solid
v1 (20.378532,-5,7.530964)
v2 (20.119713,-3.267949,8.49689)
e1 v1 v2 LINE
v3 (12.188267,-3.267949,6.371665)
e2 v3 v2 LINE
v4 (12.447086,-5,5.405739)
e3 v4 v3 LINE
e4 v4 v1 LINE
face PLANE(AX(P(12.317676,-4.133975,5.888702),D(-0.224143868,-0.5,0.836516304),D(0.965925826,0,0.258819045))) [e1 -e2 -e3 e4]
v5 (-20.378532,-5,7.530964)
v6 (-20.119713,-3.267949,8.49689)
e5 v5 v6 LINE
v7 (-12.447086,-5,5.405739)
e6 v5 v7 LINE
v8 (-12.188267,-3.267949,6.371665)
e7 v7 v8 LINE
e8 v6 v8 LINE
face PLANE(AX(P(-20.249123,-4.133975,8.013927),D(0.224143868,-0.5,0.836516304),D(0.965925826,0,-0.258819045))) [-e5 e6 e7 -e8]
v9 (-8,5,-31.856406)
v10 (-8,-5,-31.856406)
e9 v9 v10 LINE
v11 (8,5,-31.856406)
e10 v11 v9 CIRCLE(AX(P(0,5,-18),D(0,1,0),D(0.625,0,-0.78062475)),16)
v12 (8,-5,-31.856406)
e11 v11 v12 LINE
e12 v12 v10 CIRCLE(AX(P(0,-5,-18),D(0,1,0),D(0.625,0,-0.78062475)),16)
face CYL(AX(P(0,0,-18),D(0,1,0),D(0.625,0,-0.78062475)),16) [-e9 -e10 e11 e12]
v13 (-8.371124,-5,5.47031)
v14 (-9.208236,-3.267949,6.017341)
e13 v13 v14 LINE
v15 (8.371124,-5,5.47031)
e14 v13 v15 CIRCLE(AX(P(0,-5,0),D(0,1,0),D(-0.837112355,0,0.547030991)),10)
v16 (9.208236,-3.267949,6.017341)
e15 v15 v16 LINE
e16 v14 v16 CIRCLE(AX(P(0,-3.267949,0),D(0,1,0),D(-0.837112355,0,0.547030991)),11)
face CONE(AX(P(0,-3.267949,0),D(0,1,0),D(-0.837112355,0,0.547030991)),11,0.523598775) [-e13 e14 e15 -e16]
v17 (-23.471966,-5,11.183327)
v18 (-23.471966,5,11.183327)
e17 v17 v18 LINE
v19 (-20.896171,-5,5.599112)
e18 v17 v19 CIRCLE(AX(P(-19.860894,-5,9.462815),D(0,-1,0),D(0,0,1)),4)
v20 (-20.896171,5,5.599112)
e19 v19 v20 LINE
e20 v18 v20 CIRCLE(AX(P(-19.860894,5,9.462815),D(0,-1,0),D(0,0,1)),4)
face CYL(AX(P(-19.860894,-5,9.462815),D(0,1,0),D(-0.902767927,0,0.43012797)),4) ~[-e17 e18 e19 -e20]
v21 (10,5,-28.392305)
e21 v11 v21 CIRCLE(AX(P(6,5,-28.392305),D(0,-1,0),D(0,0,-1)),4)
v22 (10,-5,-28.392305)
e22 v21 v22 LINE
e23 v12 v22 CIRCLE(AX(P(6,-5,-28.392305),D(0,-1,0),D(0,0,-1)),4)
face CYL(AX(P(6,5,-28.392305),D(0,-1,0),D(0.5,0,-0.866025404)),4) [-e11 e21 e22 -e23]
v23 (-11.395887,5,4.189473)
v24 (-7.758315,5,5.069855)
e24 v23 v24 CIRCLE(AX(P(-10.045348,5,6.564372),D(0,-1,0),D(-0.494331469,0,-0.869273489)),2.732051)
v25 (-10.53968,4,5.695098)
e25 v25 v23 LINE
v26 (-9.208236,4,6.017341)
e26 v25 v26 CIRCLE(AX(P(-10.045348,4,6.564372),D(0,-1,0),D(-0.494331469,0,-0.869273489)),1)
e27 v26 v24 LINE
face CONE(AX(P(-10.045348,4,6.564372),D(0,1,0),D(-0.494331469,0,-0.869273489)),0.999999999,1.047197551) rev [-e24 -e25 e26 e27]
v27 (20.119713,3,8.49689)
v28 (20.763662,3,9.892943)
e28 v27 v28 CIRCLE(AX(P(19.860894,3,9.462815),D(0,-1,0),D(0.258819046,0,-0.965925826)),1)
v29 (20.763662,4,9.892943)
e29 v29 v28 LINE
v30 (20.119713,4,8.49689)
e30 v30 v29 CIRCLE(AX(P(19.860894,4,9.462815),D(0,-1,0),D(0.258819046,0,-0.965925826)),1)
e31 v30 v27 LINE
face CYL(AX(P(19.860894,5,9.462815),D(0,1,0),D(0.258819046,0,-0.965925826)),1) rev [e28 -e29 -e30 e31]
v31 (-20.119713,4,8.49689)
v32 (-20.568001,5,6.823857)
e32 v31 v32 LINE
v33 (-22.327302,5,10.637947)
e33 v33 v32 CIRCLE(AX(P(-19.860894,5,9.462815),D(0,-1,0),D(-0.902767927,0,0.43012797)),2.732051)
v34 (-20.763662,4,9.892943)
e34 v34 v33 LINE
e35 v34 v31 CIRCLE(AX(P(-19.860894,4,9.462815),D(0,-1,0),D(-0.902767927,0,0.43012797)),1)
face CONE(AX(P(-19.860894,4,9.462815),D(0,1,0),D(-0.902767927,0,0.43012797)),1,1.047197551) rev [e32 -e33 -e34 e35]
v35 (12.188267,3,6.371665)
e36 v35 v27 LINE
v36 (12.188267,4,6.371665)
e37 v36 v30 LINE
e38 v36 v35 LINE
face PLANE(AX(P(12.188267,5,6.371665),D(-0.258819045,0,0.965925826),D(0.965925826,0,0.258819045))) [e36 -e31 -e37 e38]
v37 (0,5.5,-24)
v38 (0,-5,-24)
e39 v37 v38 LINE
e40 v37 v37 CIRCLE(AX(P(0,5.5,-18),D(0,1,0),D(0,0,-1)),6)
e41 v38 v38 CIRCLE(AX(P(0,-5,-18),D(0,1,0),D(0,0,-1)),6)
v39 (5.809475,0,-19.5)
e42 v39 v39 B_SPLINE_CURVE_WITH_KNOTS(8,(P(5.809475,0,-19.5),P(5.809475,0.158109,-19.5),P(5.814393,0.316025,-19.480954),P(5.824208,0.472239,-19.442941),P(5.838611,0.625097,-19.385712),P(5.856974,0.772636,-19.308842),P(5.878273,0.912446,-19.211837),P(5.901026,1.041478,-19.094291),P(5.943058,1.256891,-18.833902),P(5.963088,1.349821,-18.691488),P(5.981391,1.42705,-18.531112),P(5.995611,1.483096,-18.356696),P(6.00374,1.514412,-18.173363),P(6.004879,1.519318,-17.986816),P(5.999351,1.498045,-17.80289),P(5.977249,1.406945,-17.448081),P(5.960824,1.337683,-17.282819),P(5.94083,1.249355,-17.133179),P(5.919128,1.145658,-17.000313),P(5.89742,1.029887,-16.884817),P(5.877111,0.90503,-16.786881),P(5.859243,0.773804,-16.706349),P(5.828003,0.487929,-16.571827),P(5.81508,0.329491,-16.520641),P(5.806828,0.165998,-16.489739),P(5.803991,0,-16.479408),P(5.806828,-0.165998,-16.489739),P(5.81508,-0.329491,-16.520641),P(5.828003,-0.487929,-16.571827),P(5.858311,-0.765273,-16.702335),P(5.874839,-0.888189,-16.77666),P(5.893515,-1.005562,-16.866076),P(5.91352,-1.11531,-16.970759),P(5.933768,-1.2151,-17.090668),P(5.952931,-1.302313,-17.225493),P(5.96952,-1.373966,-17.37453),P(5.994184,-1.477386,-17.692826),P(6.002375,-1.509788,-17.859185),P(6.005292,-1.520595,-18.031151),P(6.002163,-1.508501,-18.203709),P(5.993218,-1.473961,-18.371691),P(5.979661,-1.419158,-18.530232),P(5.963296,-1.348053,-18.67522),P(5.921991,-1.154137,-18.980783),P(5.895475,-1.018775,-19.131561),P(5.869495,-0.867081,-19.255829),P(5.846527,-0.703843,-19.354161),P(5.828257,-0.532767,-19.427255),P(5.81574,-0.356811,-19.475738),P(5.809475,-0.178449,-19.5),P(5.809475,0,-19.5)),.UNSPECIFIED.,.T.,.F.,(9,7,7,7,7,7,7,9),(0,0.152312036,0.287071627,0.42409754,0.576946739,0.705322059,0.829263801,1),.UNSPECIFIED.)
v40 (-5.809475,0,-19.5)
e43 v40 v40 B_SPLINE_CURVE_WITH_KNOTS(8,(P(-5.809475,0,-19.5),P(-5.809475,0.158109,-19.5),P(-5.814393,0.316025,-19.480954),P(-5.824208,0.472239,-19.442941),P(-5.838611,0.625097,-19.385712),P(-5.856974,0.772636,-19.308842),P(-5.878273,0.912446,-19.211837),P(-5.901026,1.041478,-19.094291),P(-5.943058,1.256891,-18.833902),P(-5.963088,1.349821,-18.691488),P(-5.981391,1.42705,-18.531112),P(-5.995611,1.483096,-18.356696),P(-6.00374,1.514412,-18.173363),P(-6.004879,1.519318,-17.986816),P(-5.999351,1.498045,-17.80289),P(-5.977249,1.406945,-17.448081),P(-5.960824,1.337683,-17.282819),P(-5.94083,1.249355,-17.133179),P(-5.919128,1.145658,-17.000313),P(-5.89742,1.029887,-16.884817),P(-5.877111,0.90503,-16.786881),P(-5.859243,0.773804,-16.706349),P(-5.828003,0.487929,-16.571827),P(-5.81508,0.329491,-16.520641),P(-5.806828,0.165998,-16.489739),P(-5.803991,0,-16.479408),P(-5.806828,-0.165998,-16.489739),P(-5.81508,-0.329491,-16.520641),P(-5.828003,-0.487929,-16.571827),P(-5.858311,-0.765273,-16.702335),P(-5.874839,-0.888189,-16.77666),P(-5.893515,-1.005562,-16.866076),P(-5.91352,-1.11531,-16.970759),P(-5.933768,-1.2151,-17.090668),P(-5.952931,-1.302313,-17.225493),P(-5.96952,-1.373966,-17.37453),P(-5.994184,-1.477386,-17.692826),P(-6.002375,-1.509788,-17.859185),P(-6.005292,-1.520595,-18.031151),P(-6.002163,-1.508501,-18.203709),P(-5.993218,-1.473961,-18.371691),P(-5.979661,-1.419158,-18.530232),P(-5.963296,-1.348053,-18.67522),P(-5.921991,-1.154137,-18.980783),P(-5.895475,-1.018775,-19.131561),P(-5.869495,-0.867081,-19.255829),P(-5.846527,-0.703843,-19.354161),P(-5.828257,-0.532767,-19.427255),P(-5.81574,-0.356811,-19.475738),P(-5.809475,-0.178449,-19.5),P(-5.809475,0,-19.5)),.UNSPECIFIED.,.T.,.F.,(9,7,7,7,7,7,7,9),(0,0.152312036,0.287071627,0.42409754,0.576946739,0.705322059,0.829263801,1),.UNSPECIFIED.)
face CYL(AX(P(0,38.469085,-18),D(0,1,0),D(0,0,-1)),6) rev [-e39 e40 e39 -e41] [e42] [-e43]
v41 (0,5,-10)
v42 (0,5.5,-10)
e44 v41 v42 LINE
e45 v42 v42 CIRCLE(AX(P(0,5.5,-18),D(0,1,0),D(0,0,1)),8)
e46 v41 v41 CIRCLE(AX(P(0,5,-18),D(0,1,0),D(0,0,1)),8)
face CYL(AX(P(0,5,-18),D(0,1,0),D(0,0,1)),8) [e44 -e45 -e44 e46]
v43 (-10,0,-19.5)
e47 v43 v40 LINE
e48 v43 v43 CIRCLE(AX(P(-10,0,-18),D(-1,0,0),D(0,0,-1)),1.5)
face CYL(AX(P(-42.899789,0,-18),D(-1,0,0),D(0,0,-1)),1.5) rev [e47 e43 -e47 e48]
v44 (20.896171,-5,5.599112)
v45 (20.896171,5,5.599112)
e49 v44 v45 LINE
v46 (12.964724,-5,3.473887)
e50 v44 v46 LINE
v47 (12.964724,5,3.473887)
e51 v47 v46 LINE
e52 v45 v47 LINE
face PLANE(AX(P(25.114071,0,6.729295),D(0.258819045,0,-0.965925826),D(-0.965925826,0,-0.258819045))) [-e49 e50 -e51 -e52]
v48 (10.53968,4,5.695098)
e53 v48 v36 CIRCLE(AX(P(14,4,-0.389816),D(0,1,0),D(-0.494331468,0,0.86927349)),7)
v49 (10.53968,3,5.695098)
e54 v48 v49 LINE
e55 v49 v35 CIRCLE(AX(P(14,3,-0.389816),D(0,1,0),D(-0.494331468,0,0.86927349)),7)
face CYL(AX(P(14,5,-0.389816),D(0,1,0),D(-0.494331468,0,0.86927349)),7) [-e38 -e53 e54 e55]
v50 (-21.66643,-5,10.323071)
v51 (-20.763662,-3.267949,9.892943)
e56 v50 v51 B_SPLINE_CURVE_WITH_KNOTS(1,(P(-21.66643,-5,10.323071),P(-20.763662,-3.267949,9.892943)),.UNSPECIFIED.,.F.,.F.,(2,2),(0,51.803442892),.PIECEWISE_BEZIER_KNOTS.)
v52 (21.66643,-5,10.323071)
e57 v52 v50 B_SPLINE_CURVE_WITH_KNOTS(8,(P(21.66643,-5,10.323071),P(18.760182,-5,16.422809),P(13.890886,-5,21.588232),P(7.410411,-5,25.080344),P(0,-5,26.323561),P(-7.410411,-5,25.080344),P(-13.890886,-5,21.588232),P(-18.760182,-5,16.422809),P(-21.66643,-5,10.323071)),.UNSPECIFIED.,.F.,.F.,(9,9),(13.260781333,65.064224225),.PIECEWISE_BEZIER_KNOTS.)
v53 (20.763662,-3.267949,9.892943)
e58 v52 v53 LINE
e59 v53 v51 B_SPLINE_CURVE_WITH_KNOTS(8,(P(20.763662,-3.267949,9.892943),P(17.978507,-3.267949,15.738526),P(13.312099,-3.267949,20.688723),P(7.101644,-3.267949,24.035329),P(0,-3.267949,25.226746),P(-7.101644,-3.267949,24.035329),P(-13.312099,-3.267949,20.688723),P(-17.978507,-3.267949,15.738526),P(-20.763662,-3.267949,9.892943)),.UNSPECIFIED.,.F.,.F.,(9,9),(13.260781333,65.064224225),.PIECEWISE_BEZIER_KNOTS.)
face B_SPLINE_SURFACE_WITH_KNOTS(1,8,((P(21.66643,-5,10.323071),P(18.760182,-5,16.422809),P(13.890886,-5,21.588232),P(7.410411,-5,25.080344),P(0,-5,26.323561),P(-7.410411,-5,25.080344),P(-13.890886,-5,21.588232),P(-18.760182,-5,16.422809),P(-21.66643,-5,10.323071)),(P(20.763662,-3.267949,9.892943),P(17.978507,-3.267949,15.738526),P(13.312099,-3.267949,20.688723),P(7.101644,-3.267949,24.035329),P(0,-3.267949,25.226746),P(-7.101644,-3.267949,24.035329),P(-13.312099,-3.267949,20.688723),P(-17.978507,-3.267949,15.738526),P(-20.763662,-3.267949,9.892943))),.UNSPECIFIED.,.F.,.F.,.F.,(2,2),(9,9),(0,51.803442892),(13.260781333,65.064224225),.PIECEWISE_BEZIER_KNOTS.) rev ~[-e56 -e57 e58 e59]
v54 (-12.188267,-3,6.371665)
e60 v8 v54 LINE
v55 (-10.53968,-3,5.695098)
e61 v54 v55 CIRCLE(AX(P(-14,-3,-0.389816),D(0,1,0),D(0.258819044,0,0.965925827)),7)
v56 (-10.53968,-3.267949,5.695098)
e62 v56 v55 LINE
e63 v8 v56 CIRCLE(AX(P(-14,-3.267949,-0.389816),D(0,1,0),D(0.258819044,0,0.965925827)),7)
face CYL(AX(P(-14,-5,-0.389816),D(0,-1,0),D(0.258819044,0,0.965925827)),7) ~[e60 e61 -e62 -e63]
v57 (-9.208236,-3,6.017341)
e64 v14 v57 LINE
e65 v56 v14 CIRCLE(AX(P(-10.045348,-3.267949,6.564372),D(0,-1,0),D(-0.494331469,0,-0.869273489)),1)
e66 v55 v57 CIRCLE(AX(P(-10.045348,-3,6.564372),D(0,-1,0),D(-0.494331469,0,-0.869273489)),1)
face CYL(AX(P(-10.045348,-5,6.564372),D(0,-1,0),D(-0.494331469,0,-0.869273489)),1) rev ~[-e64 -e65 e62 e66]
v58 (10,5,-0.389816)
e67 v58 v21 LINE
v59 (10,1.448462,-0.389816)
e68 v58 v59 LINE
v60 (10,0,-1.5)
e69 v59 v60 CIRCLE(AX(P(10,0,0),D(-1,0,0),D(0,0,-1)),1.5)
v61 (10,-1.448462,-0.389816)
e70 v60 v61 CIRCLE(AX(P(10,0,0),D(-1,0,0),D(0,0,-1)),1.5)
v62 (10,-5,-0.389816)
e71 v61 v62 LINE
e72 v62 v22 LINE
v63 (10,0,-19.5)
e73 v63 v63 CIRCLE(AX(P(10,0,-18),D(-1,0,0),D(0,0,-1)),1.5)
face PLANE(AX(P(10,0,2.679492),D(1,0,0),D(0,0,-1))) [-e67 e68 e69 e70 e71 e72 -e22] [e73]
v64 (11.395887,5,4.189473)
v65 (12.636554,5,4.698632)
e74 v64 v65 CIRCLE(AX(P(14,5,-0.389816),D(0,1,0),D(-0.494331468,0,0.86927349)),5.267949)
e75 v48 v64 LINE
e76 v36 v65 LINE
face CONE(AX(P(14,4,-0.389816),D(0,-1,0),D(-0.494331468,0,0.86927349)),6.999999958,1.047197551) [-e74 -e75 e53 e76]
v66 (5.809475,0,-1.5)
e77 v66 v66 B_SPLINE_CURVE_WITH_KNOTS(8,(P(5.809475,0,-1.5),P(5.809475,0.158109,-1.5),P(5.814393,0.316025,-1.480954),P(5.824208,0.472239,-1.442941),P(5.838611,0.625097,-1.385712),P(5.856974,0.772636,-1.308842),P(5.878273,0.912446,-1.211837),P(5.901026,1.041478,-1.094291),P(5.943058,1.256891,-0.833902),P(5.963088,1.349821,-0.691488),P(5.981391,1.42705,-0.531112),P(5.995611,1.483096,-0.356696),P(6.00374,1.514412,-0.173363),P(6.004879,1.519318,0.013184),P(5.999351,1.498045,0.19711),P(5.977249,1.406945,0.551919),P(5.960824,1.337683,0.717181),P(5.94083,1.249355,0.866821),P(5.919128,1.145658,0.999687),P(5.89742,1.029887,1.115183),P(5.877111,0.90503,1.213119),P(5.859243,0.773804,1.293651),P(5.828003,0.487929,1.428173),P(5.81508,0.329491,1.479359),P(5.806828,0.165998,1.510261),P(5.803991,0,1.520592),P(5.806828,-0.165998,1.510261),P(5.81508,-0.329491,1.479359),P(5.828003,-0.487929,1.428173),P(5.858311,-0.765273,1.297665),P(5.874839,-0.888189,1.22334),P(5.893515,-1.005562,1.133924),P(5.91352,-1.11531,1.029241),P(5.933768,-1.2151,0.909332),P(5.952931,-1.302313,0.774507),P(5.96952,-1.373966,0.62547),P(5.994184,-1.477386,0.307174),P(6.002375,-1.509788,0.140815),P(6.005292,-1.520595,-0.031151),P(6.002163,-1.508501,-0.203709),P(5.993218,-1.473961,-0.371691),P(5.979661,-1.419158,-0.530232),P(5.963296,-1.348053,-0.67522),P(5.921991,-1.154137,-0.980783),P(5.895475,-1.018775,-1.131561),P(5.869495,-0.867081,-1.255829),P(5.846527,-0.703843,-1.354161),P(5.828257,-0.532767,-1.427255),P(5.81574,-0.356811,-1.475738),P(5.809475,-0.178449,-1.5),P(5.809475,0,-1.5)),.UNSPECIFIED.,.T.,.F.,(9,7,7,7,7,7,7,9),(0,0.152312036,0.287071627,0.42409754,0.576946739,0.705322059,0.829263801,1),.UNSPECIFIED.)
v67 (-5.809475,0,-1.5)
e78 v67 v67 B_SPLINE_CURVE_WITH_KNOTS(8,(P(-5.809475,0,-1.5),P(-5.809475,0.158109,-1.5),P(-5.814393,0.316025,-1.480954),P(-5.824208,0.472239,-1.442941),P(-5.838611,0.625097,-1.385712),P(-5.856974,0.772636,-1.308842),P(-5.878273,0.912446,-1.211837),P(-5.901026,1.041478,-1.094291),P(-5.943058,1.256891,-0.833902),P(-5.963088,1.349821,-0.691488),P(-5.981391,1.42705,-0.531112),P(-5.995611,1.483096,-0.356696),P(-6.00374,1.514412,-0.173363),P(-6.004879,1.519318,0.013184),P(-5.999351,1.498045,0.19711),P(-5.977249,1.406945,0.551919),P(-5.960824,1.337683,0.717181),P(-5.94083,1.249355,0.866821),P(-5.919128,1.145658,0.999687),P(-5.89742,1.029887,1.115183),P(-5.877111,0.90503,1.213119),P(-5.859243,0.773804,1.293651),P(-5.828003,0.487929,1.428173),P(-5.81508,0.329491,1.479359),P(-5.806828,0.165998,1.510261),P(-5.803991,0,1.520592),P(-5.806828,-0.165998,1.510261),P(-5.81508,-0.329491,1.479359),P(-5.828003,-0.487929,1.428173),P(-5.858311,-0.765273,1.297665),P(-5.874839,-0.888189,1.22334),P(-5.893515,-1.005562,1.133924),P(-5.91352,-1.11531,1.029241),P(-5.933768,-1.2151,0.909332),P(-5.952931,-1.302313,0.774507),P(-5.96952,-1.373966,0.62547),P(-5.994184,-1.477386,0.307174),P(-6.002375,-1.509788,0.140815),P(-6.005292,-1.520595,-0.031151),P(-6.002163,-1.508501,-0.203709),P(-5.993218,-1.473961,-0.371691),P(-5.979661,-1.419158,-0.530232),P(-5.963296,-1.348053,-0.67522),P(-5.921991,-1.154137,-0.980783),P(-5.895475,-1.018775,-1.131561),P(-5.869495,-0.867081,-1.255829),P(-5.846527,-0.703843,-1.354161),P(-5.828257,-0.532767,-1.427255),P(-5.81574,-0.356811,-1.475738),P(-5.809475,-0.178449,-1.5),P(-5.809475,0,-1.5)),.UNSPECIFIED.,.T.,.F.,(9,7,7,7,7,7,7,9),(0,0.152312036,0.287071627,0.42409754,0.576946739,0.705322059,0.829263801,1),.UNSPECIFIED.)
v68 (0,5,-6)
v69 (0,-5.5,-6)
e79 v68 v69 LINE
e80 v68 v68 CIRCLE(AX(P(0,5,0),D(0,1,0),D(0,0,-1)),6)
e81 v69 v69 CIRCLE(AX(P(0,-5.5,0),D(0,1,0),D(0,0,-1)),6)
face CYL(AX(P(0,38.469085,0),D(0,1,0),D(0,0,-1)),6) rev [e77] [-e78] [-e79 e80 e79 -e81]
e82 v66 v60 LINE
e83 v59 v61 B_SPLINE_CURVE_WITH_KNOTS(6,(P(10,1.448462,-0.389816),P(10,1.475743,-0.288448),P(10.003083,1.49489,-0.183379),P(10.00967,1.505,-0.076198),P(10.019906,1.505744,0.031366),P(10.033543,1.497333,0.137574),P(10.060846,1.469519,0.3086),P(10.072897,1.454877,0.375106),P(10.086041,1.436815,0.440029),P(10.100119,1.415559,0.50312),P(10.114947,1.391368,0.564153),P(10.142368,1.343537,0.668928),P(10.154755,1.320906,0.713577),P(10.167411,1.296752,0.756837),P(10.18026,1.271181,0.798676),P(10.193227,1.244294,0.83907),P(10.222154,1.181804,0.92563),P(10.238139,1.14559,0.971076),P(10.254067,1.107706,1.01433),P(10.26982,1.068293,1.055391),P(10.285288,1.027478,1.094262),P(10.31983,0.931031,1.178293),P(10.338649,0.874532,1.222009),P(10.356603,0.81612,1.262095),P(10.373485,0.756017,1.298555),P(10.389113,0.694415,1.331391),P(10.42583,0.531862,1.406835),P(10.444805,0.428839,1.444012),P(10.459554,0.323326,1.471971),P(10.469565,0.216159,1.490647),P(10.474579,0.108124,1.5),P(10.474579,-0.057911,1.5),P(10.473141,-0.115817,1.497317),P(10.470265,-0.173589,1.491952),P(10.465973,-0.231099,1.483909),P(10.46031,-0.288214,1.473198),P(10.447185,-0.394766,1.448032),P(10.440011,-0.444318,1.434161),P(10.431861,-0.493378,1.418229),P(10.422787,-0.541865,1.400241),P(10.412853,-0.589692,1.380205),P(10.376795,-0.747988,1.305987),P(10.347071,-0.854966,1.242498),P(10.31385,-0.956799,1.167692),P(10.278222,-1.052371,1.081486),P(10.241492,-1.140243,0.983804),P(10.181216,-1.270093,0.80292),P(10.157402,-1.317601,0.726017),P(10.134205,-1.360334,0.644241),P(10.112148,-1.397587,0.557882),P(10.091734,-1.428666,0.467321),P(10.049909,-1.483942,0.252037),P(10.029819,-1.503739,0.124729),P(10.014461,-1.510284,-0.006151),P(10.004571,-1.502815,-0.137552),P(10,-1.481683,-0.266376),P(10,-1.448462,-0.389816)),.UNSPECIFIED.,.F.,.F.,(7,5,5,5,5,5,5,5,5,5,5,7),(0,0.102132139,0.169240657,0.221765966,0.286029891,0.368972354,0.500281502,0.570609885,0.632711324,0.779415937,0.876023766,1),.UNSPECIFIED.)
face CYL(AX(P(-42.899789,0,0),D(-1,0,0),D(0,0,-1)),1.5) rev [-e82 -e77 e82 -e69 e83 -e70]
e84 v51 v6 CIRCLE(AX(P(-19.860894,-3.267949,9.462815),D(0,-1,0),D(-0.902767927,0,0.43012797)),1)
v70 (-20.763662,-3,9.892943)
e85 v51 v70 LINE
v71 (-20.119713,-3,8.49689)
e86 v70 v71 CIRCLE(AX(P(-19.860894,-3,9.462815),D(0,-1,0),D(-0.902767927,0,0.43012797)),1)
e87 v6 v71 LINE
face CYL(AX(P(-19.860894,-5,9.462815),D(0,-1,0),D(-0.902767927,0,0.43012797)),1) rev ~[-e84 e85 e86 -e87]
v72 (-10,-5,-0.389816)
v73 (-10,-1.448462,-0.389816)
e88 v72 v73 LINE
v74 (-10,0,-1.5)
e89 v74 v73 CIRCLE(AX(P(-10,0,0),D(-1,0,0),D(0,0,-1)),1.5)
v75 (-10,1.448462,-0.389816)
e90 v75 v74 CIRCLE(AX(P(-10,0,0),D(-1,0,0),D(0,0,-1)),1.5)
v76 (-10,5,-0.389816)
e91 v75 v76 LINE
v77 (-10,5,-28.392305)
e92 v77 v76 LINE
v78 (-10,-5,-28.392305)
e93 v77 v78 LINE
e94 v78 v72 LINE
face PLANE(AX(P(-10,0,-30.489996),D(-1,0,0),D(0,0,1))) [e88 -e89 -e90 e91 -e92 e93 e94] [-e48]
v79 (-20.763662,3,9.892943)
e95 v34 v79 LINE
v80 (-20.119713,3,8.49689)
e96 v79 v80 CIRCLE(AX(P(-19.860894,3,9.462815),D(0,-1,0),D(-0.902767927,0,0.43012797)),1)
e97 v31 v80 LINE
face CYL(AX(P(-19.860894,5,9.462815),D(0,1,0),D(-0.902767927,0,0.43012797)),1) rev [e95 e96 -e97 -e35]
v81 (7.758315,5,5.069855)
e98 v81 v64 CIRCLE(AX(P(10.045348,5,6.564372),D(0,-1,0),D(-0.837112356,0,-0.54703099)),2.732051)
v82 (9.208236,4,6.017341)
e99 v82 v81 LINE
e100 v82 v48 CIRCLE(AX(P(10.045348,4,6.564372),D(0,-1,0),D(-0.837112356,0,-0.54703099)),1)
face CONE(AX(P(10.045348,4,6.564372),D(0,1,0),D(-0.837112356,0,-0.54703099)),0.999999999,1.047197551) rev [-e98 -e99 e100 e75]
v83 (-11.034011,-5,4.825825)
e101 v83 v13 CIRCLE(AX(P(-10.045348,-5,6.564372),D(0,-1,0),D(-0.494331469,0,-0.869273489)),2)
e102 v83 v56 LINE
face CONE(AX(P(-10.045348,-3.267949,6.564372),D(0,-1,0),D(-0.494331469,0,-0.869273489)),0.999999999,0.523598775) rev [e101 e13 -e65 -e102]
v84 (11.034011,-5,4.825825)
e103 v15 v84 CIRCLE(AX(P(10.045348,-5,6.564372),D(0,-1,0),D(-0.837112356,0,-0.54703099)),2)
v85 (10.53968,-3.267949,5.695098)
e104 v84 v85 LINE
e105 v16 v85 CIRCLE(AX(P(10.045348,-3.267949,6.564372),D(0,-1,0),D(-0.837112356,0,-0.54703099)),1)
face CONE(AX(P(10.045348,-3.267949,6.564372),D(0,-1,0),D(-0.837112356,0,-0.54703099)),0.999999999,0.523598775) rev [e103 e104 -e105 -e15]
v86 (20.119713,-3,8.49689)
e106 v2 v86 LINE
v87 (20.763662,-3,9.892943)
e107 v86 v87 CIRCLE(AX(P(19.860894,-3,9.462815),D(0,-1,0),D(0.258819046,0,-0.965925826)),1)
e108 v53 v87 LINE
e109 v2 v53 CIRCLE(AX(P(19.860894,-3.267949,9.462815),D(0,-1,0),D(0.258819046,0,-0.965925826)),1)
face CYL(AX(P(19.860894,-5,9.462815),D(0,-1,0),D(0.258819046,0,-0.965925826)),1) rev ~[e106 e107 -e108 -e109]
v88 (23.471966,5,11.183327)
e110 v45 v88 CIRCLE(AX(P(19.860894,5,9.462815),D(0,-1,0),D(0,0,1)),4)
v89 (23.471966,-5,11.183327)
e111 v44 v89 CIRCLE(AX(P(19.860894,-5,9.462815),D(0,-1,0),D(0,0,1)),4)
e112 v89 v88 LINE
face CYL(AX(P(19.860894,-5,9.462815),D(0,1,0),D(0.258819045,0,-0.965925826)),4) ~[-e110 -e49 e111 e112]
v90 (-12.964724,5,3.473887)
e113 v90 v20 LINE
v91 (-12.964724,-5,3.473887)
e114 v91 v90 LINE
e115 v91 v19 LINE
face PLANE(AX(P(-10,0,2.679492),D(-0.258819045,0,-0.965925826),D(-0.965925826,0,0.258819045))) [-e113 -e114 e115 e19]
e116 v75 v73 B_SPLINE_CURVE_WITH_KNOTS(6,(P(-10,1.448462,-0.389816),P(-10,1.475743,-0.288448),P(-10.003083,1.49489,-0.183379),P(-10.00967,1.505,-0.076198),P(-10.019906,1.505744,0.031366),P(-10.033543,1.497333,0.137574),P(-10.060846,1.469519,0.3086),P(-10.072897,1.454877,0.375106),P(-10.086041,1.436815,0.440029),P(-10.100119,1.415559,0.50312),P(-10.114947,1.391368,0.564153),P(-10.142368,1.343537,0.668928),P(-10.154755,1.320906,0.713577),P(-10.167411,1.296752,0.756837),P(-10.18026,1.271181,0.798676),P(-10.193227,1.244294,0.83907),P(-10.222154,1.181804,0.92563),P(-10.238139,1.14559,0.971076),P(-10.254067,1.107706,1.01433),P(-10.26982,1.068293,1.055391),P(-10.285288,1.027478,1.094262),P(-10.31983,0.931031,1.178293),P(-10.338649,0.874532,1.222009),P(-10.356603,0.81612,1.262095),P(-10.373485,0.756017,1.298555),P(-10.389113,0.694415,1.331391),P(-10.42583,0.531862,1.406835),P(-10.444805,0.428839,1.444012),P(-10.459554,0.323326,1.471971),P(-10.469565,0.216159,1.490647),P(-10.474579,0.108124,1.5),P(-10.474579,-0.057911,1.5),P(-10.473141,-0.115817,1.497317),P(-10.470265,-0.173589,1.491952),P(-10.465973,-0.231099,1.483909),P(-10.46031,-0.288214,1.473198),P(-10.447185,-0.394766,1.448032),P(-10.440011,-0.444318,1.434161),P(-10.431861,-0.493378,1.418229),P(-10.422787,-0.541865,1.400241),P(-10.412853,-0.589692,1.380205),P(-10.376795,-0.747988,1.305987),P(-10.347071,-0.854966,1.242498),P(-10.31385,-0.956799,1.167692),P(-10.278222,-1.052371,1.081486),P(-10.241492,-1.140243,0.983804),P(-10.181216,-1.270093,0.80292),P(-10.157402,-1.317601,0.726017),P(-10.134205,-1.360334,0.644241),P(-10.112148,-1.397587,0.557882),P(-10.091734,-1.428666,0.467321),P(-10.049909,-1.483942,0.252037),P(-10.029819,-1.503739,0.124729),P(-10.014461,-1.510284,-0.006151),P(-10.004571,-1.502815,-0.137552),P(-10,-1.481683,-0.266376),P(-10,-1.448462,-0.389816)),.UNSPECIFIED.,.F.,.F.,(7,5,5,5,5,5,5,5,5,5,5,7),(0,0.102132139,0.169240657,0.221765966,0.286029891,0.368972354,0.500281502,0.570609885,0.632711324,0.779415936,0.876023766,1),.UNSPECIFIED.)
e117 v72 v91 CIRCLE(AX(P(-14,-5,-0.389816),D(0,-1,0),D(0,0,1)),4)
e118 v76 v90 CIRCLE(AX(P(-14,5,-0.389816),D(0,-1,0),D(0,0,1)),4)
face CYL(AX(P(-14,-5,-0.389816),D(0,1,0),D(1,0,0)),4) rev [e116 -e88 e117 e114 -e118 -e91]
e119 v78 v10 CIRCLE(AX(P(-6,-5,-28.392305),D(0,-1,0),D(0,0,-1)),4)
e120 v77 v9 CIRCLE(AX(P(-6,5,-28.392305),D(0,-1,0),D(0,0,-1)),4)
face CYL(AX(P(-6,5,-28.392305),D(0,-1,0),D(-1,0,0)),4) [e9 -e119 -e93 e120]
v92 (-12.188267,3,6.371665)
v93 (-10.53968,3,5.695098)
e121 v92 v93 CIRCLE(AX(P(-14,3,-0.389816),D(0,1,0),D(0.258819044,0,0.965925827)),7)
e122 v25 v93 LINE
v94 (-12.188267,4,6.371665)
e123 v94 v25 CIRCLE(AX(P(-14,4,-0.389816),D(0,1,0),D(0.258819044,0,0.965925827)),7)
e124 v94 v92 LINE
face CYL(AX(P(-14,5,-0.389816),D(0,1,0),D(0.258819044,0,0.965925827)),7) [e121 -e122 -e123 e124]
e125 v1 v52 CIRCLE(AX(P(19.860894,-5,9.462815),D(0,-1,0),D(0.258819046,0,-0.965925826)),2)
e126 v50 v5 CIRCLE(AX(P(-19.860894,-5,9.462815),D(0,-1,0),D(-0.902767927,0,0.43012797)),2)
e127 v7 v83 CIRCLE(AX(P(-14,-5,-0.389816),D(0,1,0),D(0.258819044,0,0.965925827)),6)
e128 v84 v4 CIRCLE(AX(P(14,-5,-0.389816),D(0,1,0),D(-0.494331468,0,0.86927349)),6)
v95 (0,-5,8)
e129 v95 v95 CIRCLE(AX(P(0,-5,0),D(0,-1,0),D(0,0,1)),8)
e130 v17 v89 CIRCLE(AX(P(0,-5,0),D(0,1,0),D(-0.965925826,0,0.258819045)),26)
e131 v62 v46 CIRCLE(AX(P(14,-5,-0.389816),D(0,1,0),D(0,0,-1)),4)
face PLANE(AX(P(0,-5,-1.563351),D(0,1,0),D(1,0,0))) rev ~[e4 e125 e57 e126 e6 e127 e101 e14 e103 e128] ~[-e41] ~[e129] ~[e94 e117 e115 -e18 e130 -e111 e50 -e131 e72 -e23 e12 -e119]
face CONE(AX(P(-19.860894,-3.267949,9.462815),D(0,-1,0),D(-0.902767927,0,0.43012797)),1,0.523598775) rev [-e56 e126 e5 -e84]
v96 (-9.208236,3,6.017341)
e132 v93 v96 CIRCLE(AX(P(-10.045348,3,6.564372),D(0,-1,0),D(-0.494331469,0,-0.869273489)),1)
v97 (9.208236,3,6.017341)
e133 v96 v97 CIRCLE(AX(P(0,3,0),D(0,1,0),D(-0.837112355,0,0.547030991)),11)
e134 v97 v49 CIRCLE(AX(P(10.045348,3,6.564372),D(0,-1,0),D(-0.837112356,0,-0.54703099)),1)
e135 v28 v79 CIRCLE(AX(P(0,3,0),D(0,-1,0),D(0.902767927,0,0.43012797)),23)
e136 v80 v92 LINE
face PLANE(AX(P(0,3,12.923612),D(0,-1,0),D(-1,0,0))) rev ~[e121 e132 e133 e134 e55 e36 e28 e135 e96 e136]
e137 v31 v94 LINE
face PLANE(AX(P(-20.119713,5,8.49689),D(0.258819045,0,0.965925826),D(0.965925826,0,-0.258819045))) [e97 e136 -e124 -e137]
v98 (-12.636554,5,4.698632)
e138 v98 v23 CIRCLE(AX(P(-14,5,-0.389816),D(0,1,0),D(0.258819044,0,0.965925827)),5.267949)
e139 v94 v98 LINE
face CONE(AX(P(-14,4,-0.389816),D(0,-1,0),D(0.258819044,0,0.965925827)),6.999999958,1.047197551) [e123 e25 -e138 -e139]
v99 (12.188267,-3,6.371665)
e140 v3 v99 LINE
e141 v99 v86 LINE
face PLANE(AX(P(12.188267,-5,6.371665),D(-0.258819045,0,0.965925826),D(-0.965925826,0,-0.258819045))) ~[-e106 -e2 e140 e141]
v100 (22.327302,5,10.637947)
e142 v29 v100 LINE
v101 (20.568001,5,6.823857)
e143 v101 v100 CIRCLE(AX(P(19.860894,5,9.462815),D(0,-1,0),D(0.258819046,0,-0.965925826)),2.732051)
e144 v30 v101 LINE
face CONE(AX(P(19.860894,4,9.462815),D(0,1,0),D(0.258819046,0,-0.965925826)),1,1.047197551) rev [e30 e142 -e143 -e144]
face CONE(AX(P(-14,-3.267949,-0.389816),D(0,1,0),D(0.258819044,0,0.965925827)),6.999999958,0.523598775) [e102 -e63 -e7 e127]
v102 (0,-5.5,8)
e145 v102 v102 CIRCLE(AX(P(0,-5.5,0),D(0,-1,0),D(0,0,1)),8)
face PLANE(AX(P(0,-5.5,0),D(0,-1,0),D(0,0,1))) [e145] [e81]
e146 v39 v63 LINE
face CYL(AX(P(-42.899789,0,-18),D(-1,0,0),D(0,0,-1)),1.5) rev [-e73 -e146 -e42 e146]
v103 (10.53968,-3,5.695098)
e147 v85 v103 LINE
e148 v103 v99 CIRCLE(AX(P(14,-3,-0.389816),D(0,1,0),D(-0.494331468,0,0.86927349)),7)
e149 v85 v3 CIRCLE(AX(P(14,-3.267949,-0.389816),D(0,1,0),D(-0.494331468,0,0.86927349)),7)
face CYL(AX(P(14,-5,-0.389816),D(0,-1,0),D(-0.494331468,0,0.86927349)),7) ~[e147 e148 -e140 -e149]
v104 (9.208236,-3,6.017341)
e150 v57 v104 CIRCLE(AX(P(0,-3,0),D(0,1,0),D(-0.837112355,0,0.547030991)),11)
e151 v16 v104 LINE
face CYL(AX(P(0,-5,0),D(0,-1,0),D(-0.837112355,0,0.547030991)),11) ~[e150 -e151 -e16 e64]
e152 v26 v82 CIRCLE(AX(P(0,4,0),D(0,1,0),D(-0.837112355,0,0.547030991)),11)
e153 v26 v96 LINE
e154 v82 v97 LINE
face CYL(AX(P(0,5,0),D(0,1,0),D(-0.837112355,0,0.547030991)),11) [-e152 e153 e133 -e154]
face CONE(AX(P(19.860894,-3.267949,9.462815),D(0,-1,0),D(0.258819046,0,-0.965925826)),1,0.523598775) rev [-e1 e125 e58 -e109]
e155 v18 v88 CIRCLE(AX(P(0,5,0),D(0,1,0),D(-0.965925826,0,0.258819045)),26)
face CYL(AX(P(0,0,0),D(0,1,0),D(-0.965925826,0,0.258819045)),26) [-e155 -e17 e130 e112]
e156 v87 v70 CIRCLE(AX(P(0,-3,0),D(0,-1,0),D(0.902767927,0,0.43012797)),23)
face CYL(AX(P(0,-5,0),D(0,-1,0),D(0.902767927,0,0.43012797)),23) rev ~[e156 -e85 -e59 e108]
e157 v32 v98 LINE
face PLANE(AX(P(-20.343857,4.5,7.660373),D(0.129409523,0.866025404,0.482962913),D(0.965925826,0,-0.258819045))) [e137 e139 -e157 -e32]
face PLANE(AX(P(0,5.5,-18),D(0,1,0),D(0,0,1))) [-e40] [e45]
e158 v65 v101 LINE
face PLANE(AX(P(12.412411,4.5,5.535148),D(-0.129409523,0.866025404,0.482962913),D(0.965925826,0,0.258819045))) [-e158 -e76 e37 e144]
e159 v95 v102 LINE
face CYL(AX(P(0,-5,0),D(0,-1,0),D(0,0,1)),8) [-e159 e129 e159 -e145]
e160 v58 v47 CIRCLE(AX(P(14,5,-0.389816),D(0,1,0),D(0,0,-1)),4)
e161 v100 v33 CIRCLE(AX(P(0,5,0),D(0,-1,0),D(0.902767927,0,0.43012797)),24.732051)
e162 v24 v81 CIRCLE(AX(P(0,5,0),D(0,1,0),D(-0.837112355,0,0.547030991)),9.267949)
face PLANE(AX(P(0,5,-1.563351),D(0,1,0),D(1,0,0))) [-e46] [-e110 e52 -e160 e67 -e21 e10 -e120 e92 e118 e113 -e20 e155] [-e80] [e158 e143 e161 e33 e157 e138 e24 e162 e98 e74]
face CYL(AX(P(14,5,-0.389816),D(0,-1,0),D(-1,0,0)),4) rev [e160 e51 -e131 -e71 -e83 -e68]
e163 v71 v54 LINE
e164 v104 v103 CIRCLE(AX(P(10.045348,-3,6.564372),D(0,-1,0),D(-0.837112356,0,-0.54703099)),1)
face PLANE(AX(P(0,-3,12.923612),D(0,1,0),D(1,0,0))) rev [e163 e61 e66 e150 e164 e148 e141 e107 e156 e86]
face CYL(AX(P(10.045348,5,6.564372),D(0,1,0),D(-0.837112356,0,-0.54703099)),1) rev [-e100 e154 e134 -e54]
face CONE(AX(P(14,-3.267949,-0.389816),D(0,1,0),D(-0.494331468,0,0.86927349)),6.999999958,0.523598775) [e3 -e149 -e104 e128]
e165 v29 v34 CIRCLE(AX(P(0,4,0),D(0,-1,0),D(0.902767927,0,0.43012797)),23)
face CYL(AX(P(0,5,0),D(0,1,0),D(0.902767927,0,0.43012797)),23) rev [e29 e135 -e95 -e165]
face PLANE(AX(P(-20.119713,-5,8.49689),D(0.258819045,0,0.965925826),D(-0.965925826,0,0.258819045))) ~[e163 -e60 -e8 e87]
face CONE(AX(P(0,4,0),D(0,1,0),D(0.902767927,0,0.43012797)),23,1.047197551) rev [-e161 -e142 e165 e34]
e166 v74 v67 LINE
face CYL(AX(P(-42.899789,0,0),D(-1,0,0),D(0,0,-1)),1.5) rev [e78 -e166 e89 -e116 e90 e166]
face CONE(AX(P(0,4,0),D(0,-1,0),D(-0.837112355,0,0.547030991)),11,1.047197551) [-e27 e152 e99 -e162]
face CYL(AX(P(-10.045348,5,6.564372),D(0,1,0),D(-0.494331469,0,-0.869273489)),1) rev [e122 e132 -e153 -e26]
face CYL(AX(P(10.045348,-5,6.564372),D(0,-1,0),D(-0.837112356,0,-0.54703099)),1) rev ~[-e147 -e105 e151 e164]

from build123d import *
from OCP.BRepFilletAPI import BRepFilletAPI_MakeChamfer

# Parameters (mm, degrees)
BOSS_EXTRUDE1_DEPTH     = 5
FILLET1_R               = 4
SKETCH2_R               = 8
BOSS_EXTRUDE2_DEPTH     = 0.5
SKETCH3_R               = 8
BOSS_EXTRUDE3_DEPTH     = 0.5
SKETCH4_R               = 8
BOSS_EXTRUDE4_DEPTH     = 0.5
CUT_EXTRUDE1_DEPTH      = 43.969085178
CUT_EXTRUDE1_DEPTH_BACK = 43.969085178
SKETCH5_R               = 6
CUT_EXTRUDE2_DEPTH      = 2
CHAMFER2_SIZE           = 1
CHAMFER2_SIZE2          = 1.732050808
CUT_EXTRUDE4_DEPTH      = 42.899788694
CUT_EXTRUDE4_DEPTH_BACK = 42.899788694
SKETCH9_R               = 1.5


with BuildPart() as part:
    # Sketch1 → Boss-Extrude1 (new, symmetric)
    with BuildSketch(Plane(origin=(0, 0, 0), x_dir=(1, 0, 0), z_dir=(0, 1, 0))):
        with BuildLine():
            Line((-10, 30.489995997), (-10, -2.679491924))
            Line((-10, -2.679491924), (-25.114071484, -6.729295173))
            ThreePointArc((-25.114071484, -6.729295173), (0, -26), (25.114071484, -6.729295173))
            Line((25.114071484, -6.729295173), (10, -2.679491924))
            Line((10, -2.679491924), (10, 30.489995997))
            ThreePointArc((10, 30.489995997), (0, 34), (-10, 30.489995997))
        make_face()
    extrude(amount=BOSS_EXTRUDE1_DEPTH, both=True)

    # Fillet1
    fillet1_edges = [part.edges().sort_by_distance(p)[0] for p in [
        (10, 0, -30.489995997),
        (10, 0, 2.679491924),
        (25.114071484, 0, 6.729295173),
        (-25.114071484, 0, 6.729295173),
        (-10, 0, 2.679491924),
        (-10, 0, -30.489995997),
    ]]
    fillet(fillet1_edges, radius=FILLET1_R)

    # Sketch2 → Boss-Extrude2 (add, symmetric)
    with BuildSketch(Plane(origin=(0, 0, 0), x_dir=(1, 0, 0), z_dir=(0, 1, 0))):
        with Locations((0, 18)):
            Circle(SKETCH2_R)
    extrude(amount=BOSS_EXTRUDE2_DEPTH, both=True)

    # Sketch3 → Boss-Extrude3 (add, symmetric)
    with BuildSketch(Plane(origin=(0, 5, 0), x_dir=(1, 0, 0), z_dir=(0, 1, 0))):
        with Locations(Location((0, 18, 0), (0, 0, 270))):
            Circle(SKETCH3_R)
    extrude(amount=BOSS_EXTRUDE3_DEPTH, both=True)

    # Sketch4 → Boss-Extrude4 (add, symmetric)
    with BuildSketch(Plane.XZ.offset(5)):
        with Locations(Location((0, 0, 0), (0, 0, 90))):
            Circle(SKETCH4_R)
    extrude(amount=BOSS_EXTRUDE4_DEPTH, both=True)

    # Sketch5 → Cut-Extrude1 (cut, two sides: drawn at the far end of the back side and taken through both)
    with BuildSketch(Plane(origin=(0, -5.5, 0), x_dir=(-1, 0, 0), z_dir=(0, -1, 0)).offset(-CUT_EXTRUDE1_DEPTH_BACK)):
        with Locations(Location((0, 0, 0), (0, 0, 90))):
            Circle(SKETCH5_R)
        with Locations(Location((0, 18, 0), (0, 0, 90))):
            Circle(SKETCH5_R)
    extrude(amount=CUT_EXTRUDE1_DEPTH + CUT_EXTRUDE1_DEPTH_BACK, mode=Mode.SUBTRACT)

    # Sketch6 → Cut-Extrude2 (cut)
    with BuildSketch(Plane(origin=(0, 5, 0), x_dir=(1, 0, 0), z_dir=(0, 1, 0))):
        with BuildLine():
            Line((12.188266684, -6.371664756), (20.119713435, -8.496889508))
            ThreePointArc((20.119713435, -8.496889508), (20.768948696, -9.043962883), (20.763662316, -9.892943304))
            ThreePointArc((20.763662316, -9.892943304), (0, -23), (-20.763662316, -9.892943304))
            ThreePointArc((-20.763662316, -9.892943304), (-20.768948696, -9.043962883), (-20.119713435, -8.496889508))
            Line((-20.119713435, -8.496889508), (-12.188266684, -6.371664756))
            ThreePointArc((-12.188266684, -6.371664756), (-11.342355786, -6.086056673), (-10.539679728, -5.695098402))
            ThreePointArc((-10.539679728, -5.695098402), (-9.810114884, -5.592432974), (-9.208235905, -6.017340901))
            ThreePointArc((-9.208235905, -6.017340901), (0, -11), (9.208235905, -6.017340901))
            ThreePointArc((9.208235905, -6.017340901), (9.810114884, -5.592432974), (10.539679728, -5.695098402))
            ThreePointArc((10.539679728, -5.695098402), (11.342355786, -6.086056673), (12.188266684, -6.371664756))
        make_face()
    cut_extrude2 = extrude(amount=-CUT_EXTRUDE2_DEPTH, mode=Mode.SUBTRACT)

    # Mirror7: Cut-Extrude2 across plane
    add(cut_extrude2.mirror(Plane.ZX), mode=Mode.SUBTRACT)

    # Chamfer2: one chamfer whose edges measure the first distance from different faces: ONE call of the kernel's chamfer builder (chamfer() names one face for all edges)
    chamfer2_edges_1 = [part.edges().sort_by_distance(p)[0] for p in [
        (9.810114884, -5, 5.592432974),
        (0, -5, 11),
        (-9.810114884, -5, 5.592432974),
        (-11.342355786, -5, 6.086056673),
        (-16.153990059, -5, 7.434277132),
        (-20.768948696, -5, 9.043962883),
        (0, -5, 23),
        (20.768948696, -5, 9.043962883),
        (16.153990059, -5, 7.434277132),
        (11.342355786, -5, 6.086056673),
    ]]
    chamfer2_side_1 = [part.faces().sort_by_distance(p)[0] for p in [
        (-9.233359985, -5, -14.391060437),
    ]]
    chamfer2_edges_2 = [part.edges().sort_by_distance(p)[0] for p in [
        (9.810114884, 5, 5.592432974),
    ]]
    chamfer2_side_2 = [part.faces().sort_by_distance(p)[0] for p in [
        (9.810114884, 4, 5.592432974),
    ]]
    chamfer2_edges_3 = [part.edges().sort_by_distance(p)[0] for p in [
        (0, 5, 11),
    ]]
    chamfer2_side_3 = [part.faces().sort_by_distance(p)[0] for p in [
        (0, 4, 11),
    ]]
    chamfer2_edges_4 = [part.edges().sort_by_distance(p)[0] for p in [
        (-9.810114884, 5, 5.592432974),
    ]]
    chamfer2_side_4 = [part.faces().sort_by_distance(p)[0] for p in [
        (-9.810114884, 4, 5.592432974),
    ]]
    chamfer2_edges_5 = [part.edges().sort_by_distance(p)[0] for p in [
        (-11.342355786, 5, 6.086056673),
    ]]
    chamfer2_side_5 = [part.faces().sort_by_distance(p)[0] for p in [
        (-11.342355786, 4, 6.086056673),
    ]]
    chamfer2_edges_6 = [part.edges().sort_by_distance(p)[0] for p in [
        (-16.153990059, 5, 7.434277132),
    ]]
    chamfer2_side_6 = [part.faces().sort_by_distance(p)[0] for p in [
        (-16.153990059, 4, 7.434277132),
    ]]
    chamfer2_edges_7 = [part.edges().sort_by_distance(p)[0] for p in [
        (-20.768948696, 5, 9.043962883),
    ]]
    chamfer2_side_7 = [part.faces().sort_by_distance(p)[0] for p in [
        (-20.768948696, 4, 9.043962883),
    ]]
    chamfer2_edges_8 = [part.edges().sort_by_distance(p)[0] for p in [
        (0, 5, 23),
    ]]
    chamfer2_side_8 = [part.faces().sort_by_distance(p)[0] for p in [
        (0, 4, 23),
    ]]
    chamfer2_edges_9 = [part.edges().sort_by_distance(p)[0] for p in [
        (20.768948696, 5, 9.043962883),
    ]]
    chamfer2_side_9 = [part.faces().sort_by_distance(p)[0] for p in [
        (20.768948696, 4, 9.043962883),
    ]]
    chamfer2_edges_10 = [part.edges().sort_by_distance(p)[0] for p in [
        (16.153990059, 5, 7.434277132),
    ]]
    chamfer2_side_10 = [part.faces().sort_by_distance(p)[0] for p in [
        (16.153990059, 4, 7.434277132),
    ]]
    chamfer2_edges_11 = [part.edges().sort_by_distance(p)[0] for p in [
        (11.342355786, 5, 6.086056673),
    ]]
    chamfer2_side_11 = [part.faces().sort_by_distance(p)[0] for p in [
        (11.342355786, 4, 6.086056673),
    ]]
    chamfer2 = BRepFilletAPI_MakeChamfer(part.part.solid().wrapped)
    for e in chamfer2_edges_1:
        chamfer2.Add(CHAMFER2_SIZE, CHAMFER2_SIZE2, e.wrapped, chamfer2_side_1[0].wrapped)  # the first distance lies on this face
    for e in chamfer2_edges_2:
        chamfer2.Add(CHAMFER2_SIZE, CHAMFER2_SIZE2, e.wrapped, chamfer2_side_2[0].wrapped)  # the first distance lies on this face
    for e in chamfer2_edges_3:
        chamfer2.Add(CHAMFER2_SIZE, CHAMFER2_SIZE2, e.wrapped, chamfer2_side_3[0].wrapped)  # the first distance lies on this face
    for e in chamfer2_edges_4:
        chamfer2.Add(CHAMFER2_SIZE, CHAMFER2_SIZE2, e.wrapped, chamfer2_side_4[0].wrapped)  # the first distance lies on this face
    for e in chamfer2_edges_5:
        chamfer2.Add(CHAMFER2_SIZE, CHAMFER2_SIZE2, e.wrapped, chamfer2_side_5[0].wrapped)  # the first distance lies on this face
    for e in chamfer2_edges_6:
        chamfer2.Add(CHAMFER2_SIZE, CHAMFER2_SIZE2, e.wrapped, chamfer2_side_6[0].wrapped)  # the first distance lies on this face
    for e in chamfer2_edges_7:
        chamfer2.Add(CHAMFER2_SIZE, CHAMFER2_SIZE2, e.wrapped, chamfer2_side_7[0].wrapped)  # the first distance lies on this face
    for e in chamfer2_edges_8:
        chamfer2.Add(CHAMFER2_SIZE, CHAMFER2_SIZE2, e.wrapped, chamfer2_side_8[0].wrapped)  # the first distance lies on this face
    for e in chamfer2_edges_9:
        chamfer2.Add(CHAMFER2_SIZE, CHAMFER2_SIZE2, e.wrapped, chamfer2_side_9[0].wrapped)  # the first distance lies on this face
    for e in chamfer2_edges_10:
        chamfer2.Add(CHAMFER2_SIZE, CHAMFER2_SIZE2, e.wrapped, chamfer2_side_10[0].wrapped)  # the first distance lies on this face
    for e in chamfer2_edges_11:
        chamfer2.Add(CHAMFER2_SIZE, CHAMFER2_SIZE2, e.wrapped, chamfer2_side_11[0].wrapped)  # the first distance lies on this face
    add(Compound.cast(chamfer2.Shape()), mode=Mode.REPLACE)

    # Sketch9 → Cut-Extrude4 (cut, two sides: drawn at the far end of the back side and taken through both)
    with BuildSketch(Plane(origin=(0, 0, 0), x_dir=(0, 0, -1), z_dir=(1, 0, 0)).offset(-CUT_EXTRUDE4_DEPTH_BACK)):
        Circle(SKETCH9_R)
        with Locations((18, 0)):
            Circle(SKETCH9_R)
    extrude(amount=CUT_EXTRUDE4_DEPTH + CUT_EXTRUDE4_DEPTH_BACK, mode=Mode.SUBTRACT)


solid = part.part
